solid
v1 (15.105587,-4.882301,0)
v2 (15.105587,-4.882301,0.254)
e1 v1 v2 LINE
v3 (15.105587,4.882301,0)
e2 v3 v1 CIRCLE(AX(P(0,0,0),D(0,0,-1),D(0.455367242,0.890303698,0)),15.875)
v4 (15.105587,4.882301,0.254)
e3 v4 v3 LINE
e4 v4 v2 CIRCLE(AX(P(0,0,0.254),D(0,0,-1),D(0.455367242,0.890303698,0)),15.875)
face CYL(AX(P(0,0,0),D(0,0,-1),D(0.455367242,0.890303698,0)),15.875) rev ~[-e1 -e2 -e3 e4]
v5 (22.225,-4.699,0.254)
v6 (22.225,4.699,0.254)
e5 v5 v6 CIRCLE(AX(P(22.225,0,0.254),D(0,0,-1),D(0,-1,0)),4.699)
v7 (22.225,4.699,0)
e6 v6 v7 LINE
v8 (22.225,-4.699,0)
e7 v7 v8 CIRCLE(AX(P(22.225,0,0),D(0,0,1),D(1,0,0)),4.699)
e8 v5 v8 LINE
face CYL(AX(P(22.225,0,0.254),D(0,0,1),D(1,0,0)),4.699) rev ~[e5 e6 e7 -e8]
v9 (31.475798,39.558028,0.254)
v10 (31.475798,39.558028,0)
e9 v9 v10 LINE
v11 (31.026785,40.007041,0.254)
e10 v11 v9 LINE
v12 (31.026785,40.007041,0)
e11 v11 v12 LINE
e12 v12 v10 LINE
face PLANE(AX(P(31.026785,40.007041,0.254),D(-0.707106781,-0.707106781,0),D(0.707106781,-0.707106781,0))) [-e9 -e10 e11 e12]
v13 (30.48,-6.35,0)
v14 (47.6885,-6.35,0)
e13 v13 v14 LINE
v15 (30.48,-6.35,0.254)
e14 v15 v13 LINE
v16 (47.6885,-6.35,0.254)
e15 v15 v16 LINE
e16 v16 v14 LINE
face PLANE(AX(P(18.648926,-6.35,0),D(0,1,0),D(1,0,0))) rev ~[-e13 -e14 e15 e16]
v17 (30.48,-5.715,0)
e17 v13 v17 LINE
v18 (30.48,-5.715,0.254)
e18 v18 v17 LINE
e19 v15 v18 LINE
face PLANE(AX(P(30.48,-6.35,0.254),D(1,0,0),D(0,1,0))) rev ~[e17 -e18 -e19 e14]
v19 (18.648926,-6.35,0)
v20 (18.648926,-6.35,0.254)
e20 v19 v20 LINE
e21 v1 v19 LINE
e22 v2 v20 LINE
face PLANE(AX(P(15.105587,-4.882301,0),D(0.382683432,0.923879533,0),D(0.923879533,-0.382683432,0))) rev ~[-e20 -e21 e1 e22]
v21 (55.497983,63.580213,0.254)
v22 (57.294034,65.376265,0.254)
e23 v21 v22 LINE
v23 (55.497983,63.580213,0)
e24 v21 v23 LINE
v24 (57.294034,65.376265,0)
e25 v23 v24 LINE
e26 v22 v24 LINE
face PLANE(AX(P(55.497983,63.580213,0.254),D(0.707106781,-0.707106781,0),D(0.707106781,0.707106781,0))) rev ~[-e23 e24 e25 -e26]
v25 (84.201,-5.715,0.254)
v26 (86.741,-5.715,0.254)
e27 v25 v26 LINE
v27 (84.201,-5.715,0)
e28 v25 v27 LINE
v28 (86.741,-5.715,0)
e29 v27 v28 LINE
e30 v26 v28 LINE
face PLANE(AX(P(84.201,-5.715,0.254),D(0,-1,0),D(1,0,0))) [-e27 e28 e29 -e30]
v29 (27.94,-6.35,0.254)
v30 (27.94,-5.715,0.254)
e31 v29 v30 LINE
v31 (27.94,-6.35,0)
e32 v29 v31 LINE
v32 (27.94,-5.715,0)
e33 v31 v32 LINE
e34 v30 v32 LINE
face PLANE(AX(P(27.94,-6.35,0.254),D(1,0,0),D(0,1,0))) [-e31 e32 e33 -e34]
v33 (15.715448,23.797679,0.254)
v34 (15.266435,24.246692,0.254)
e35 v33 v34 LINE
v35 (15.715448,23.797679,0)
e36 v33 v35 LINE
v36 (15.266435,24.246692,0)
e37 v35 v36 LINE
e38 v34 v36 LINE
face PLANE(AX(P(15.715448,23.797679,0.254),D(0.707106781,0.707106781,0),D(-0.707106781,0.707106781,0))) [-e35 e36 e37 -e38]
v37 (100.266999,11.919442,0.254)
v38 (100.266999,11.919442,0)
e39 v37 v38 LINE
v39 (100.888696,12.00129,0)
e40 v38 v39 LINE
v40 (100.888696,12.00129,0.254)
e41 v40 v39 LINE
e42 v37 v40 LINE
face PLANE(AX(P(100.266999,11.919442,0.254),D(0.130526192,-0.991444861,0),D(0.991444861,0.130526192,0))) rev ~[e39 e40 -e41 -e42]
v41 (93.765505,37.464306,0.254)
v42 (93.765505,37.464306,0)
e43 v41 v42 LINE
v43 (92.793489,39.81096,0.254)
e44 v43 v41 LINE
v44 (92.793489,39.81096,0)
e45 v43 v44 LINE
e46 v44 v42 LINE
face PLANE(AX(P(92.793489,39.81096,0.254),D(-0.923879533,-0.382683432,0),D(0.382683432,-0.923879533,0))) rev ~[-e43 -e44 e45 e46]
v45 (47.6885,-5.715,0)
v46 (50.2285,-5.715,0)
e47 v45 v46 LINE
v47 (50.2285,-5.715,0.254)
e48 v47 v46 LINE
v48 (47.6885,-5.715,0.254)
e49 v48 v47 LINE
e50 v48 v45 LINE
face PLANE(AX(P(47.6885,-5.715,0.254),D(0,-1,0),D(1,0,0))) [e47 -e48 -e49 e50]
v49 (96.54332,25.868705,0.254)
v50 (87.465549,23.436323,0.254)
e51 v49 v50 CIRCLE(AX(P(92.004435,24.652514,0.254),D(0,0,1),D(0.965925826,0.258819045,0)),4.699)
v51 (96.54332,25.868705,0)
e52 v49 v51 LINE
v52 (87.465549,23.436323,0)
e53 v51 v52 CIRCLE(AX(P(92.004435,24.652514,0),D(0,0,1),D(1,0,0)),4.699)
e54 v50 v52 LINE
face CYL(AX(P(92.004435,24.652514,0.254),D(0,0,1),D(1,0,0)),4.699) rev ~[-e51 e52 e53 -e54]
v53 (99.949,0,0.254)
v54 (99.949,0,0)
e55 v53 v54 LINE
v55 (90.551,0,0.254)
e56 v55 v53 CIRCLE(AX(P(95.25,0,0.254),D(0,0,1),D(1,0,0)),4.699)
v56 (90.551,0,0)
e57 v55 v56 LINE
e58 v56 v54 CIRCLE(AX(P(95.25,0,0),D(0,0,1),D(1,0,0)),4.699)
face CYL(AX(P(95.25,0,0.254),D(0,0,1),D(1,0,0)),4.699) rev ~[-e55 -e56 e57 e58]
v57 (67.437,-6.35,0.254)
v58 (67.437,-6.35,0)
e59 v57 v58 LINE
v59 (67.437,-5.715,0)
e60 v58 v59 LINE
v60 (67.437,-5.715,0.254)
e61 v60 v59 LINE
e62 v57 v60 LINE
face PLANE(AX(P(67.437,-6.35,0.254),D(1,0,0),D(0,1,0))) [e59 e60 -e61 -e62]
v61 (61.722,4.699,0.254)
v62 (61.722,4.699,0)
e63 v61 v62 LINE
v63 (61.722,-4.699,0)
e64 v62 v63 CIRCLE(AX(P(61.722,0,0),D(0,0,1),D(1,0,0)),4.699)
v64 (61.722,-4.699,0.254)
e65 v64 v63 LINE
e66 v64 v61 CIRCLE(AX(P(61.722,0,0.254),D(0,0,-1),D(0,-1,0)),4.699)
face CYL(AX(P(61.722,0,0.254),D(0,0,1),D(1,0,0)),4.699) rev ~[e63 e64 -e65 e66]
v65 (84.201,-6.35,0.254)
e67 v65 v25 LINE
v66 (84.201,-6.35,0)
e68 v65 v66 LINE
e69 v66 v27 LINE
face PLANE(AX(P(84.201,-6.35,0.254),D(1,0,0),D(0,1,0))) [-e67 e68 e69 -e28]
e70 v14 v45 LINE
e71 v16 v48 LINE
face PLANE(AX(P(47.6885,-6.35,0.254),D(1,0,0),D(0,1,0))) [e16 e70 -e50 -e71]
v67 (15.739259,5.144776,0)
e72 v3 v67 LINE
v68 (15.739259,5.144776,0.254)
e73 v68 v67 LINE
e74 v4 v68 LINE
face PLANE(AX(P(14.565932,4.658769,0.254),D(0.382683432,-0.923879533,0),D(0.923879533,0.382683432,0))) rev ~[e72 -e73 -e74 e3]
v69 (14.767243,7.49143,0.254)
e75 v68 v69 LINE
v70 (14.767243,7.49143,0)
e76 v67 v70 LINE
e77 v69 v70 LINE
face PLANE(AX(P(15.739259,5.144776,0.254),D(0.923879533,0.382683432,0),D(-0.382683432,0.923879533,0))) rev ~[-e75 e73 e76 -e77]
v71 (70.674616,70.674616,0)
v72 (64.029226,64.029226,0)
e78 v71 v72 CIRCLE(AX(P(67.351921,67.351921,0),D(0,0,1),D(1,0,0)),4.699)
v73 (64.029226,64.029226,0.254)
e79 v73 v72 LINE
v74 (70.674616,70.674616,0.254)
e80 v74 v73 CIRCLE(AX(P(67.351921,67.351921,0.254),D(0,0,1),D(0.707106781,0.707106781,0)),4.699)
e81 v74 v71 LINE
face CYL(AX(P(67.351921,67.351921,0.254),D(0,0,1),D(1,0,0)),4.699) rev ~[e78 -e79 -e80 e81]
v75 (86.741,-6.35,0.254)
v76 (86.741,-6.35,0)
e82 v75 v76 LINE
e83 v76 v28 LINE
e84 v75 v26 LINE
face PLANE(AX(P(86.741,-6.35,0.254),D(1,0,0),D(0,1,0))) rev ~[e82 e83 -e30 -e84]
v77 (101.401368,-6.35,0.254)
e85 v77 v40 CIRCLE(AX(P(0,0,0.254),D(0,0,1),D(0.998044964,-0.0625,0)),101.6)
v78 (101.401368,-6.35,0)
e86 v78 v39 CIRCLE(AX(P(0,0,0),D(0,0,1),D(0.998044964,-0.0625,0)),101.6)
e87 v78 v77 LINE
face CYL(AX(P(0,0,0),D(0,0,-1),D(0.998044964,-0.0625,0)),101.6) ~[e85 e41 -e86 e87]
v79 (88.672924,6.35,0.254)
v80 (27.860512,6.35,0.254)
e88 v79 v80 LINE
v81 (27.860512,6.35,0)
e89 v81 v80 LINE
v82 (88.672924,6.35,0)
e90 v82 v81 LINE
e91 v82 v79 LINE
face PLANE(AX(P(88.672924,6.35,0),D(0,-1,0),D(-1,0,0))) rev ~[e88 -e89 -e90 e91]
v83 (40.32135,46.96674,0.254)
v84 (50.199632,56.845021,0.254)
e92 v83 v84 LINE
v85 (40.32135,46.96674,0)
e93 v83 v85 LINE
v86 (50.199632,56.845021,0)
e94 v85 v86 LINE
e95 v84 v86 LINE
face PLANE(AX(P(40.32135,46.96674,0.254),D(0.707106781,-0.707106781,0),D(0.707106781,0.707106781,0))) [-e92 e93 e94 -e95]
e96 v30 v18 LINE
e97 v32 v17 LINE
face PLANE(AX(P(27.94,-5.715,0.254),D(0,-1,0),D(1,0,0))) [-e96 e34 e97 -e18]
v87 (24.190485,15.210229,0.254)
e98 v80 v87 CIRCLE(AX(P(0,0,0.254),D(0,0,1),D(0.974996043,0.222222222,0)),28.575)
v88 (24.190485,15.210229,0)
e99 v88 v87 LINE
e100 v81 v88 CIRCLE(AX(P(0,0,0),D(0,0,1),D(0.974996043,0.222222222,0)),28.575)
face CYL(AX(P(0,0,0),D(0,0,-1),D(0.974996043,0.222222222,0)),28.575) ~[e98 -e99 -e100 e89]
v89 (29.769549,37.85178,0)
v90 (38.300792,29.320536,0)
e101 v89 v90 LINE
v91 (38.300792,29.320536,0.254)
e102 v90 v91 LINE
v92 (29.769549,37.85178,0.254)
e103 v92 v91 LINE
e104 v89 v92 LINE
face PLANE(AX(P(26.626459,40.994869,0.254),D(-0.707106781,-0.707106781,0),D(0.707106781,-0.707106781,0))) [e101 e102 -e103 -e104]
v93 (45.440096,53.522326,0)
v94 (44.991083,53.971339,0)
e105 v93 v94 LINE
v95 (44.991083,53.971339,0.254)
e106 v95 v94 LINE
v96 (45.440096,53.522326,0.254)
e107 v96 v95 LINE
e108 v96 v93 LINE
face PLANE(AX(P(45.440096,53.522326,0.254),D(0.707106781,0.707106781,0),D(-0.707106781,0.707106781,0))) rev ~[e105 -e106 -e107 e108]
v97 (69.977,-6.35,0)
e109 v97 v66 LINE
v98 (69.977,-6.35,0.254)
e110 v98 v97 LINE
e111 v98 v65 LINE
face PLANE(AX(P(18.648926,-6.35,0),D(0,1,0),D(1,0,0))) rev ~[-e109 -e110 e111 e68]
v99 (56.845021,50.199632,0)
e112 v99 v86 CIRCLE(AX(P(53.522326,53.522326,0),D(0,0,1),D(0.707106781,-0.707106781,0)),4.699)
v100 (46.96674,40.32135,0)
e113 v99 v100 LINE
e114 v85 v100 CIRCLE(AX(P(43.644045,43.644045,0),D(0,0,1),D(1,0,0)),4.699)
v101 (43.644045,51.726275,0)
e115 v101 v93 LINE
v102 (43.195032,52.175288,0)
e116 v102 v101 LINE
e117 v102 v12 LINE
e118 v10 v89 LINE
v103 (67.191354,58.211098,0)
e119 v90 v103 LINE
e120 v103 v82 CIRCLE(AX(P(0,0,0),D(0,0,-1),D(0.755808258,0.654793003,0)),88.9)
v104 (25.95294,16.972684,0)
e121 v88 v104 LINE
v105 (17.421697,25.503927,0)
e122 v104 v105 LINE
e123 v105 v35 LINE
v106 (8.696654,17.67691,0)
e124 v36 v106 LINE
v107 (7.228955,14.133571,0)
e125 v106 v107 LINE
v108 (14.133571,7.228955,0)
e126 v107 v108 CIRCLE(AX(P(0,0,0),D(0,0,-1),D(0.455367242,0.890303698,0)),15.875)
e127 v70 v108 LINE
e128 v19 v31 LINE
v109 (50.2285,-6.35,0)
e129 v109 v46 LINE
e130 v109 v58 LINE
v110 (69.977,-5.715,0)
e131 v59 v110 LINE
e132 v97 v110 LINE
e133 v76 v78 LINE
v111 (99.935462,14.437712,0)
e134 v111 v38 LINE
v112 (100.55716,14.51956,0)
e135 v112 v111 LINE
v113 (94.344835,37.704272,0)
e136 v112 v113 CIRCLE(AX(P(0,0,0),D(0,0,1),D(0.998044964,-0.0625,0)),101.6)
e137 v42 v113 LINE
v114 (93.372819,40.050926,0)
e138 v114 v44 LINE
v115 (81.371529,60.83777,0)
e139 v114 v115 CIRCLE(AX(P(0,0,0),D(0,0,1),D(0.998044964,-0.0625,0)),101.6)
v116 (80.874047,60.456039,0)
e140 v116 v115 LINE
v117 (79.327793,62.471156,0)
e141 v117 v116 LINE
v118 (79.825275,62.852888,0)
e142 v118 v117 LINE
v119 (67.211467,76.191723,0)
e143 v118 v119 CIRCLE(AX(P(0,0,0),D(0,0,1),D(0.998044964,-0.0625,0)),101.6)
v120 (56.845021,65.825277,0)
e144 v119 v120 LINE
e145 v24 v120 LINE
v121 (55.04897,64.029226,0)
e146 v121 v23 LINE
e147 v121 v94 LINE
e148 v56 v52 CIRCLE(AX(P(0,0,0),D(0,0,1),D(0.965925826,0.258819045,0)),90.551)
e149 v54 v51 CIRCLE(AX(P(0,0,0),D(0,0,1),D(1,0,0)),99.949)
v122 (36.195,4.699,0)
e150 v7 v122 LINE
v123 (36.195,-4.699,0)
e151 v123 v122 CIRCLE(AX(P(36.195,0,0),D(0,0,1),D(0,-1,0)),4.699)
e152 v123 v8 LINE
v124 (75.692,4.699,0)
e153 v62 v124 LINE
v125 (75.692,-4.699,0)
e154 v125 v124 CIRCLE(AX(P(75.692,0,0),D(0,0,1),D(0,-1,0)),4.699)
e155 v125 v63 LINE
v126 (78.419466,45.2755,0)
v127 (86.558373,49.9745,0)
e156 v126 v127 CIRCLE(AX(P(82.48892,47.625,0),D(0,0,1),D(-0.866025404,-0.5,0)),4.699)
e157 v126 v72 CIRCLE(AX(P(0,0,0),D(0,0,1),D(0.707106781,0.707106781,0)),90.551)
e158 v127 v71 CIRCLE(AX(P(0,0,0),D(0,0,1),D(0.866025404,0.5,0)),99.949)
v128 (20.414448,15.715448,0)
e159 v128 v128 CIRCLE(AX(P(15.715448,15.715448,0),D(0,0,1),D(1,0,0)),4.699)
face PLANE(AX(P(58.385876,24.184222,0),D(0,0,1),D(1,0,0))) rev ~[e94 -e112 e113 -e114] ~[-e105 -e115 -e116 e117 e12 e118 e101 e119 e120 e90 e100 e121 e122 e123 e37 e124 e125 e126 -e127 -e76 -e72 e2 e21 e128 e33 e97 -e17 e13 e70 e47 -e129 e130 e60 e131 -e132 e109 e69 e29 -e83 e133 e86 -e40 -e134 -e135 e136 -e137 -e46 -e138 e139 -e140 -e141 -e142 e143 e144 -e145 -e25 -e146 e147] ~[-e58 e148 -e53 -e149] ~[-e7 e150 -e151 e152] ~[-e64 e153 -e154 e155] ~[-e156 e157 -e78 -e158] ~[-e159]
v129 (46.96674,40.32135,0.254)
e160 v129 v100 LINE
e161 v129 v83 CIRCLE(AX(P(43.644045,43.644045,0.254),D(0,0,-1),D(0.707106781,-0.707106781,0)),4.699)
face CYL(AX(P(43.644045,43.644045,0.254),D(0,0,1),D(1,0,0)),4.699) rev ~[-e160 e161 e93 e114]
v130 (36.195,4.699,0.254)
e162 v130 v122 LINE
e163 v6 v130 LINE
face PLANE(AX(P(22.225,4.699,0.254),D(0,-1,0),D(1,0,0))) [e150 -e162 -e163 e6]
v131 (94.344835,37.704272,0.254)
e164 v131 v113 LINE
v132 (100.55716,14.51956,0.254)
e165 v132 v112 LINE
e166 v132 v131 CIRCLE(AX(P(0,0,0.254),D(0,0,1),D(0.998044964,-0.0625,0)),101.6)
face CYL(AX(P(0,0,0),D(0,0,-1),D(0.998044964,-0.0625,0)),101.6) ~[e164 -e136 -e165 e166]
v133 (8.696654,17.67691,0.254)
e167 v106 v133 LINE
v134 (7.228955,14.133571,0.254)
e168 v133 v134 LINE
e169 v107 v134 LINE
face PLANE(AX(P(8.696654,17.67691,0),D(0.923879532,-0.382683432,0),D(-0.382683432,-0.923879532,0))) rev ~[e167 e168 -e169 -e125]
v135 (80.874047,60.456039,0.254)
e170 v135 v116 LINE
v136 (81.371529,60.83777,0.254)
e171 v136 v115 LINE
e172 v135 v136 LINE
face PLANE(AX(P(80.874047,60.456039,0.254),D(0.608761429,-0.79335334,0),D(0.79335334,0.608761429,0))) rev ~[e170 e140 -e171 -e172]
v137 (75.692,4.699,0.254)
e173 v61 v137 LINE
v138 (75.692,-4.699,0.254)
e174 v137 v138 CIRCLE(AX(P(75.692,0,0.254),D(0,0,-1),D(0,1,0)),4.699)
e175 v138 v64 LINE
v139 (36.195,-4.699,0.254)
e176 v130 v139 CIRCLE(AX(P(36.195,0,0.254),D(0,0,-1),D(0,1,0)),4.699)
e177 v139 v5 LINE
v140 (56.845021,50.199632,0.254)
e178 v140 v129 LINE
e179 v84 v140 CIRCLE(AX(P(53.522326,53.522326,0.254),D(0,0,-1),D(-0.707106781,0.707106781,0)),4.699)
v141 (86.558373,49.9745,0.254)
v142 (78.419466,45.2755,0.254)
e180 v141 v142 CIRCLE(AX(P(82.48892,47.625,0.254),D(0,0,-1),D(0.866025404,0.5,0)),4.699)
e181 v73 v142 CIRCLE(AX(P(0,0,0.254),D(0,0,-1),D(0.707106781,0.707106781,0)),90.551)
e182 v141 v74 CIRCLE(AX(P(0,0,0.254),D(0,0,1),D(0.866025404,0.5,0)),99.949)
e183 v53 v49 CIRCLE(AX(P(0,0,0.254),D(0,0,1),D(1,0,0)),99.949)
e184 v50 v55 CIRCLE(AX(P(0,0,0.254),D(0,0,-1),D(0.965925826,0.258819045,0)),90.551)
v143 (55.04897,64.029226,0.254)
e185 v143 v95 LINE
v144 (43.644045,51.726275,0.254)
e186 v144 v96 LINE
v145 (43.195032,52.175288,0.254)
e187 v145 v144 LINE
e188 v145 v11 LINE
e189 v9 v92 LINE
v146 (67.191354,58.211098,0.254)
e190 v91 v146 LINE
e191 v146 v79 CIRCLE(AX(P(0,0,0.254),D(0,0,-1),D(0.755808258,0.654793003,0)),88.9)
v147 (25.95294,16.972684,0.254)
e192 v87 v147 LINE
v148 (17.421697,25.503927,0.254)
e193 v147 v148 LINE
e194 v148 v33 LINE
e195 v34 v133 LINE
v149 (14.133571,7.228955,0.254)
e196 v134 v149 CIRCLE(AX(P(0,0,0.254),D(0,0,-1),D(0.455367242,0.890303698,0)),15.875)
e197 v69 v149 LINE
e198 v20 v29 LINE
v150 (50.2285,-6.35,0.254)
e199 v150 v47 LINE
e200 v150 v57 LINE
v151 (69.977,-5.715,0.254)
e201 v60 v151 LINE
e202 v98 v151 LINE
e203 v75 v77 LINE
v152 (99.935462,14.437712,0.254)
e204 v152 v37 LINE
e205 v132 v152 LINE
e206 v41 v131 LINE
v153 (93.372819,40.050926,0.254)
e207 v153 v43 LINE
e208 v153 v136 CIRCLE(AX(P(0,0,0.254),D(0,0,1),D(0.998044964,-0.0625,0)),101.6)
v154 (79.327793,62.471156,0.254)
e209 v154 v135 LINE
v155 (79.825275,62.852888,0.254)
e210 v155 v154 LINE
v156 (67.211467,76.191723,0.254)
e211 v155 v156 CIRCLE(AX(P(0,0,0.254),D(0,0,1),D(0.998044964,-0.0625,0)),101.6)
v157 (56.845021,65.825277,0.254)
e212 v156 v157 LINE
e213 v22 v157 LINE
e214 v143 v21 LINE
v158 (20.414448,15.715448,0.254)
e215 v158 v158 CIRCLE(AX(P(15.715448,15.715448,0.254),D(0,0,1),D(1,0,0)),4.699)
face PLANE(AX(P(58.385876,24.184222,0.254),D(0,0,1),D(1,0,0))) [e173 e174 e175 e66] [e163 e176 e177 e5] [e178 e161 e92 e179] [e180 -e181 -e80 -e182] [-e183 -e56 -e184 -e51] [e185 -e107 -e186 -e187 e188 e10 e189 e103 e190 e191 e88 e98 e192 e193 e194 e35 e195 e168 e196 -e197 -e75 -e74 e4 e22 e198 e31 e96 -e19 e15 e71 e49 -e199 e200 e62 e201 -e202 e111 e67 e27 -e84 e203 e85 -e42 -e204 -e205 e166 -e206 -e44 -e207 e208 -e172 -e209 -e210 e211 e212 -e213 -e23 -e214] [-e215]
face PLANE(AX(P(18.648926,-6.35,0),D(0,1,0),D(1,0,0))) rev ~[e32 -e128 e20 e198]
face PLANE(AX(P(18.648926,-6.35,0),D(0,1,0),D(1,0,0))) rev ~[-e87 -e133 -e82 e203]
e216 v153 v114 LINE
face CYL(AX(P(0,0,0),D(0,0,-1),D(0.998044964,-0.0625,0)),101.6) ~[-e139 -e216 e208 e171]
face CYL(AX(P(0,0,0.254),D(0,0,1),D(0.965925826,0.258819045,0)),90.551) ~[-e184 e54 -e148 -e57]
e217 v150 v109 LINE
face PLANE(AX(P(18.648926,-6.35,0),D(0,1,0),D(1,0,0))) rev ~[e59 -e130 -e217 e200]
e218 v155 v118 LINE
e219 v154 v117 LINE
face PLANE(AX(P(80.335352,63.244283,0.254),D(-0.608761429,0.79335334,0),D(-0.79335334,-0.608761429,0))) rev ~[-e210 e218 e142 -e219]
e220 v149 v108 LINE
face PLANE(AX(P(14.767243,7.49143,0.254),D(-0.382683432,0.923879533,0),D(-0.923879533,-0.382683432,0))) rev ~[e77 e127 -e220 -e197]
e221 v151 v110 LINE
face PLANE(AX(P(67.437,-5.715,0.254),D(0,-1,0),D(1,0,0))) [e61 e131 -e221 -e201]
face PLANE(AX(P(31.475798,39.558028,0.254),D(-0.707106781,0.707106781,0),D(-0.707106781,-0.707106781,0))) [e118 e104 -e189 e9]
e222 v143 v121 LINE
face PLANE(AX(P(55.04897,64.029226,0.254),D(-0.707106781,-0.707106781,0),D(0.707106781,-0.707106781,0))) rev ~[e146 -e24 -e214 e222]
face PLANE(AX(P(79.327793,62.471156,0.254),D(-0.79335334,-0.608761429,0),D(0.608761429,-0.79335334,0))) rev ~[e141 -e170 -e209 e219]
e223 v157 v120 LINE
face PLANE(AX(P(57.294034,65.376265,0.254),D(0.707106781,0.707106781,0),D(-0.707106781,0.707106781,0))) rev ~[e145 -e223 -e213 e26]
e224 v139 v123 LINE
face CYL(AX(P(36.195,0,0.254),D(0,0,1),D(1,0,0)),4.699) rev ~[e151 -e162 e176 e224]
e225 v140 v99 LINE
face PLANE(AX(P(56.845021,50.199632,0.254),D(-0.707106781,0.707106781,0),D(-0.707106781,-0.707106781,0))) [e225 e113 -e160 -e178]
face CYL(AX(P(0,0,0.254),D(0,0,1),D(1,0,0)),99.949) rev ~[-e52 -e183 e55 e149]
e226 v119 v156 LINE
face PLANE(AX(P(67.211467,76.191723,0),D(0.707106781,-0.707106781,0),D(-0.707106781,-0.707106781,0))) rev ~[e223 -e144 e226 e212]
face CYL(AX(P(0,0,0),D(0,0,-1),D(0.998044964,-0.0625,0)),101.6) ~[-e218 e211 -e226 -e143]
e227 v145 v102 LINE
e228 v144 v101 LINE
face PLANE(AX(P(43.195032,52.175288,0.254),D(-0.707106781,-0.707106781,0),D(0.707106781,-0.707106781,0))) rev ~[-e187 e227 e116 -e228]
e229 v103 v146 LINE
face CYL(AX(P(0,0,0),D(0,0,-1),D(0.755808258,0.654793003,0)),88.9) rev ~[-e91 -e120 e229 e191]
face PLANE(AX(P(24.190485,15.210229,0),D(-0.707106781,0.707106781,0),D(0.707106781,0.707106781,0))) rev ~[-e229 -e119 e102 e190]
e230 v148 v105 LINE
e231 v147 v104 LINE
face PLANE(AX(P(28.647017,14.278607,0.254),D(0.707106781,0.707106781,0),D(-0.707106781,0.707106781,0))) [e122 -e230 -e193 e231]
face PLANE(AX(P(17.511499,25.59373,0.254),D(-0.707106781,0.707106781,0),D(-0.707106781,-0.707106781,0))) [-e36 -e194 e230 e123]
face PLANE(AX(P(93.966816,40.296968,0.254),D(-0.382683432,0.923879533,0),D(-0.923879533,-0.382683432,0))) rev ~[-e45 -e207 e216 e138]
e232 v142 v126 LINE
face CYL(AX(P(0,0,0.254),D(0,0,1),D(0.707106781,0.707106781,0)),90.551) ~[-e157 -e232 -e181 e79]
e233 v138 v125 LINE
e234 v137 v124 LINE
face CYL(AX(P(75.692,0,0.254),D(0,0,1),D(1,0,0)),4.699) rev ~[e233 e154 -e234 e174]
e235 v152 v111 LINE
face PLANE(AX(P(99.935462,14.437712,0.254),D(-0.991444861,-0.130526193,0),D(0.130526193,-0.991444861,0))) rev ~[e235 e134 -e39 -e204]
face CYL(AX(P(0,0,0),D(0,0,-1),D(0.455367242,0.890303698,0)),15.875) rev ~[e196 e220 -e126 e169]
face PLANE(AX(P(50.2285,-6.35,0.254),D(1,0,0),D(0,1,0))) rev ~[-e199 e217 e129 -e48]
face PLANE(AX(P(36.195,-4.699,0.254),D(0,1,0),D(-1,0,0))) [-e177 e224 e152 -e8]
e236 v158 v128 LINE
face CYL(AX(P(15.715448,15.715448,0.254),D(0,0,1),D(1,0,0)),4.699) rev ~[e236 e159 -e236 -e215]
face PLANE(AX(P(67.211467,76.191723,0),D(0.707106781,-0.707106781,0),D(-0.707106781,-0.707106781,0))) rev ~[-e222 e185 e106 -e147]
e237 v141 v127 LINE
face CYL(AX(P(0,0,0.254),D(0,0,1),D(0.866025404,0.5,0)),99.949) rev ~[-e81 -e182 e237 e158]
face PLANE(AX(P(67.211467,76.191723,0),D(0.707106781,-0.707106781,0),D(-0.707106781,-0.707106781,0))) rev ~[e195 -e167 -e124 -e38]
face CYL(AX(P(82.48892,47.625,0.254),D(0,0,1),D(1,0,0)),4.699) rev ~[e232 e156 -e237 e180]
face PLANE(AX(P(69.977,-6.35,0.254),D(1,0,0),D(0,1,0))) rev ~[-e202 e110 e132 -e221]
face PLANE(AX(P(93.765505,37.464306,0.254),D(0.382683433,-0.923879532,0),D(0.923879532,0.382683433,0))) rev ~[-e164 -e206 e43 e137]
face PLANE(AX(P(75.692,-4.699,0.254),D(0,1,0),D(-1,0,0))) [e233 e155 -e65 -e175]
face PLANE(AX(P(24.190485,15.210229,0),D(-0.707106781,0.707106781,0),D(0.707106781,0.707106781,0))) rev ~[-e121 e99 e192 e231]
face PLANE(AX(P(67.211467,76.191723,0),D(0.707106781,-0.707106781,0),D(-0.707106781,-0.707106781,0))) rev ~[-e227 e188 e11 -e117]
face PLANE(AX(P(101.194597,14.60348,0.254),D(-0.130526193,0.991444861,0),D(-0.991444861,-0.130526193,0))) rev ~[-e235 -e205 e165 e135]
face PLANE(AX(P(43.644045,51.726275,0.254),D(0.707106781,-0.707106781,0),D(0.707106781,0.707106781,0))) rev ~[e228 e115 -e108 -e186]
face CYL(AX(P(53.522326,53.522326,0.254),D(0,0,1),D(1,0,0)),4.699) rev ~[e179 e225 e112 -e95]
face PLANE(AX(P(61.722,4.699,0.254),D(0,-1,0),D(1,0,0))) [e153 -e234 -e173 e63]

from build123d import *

# Parameters (mm, degrees)
BOSS_EXTRUDE1_DEPTH = 0.254
SKETCH2_R           = 4.699
CUT_EXTRUDE1_DEPTH  = 1.254
SKETCH3_W           = 2.54
SKETCH3_H           = 0.635
CUT_EXTRUDE2_DEPTH  = 1.254
CUT_EXTRUDE4_DEPTH  = 1.254
CUT_EXTRUDE5_DEPTH  = 1.254


with BuildPart() as part:
    # Sketch1 → Boss-Extrude1 (new body)
    with BuildSketch(Plane.XY):
        with BuildLine():
            Line((67.21146711, 76.191723231), (8.696654013, 17.676910134))
            Line((8.696654013, 17.676910134), (7.228954972, 14.133571205))
            ThreePointArc((7.228954972, 14.133571205), (14.666587579, 6.075099489), (15.105587123, -4.88230096))
            Line((15.105587123, -4.88230096), (18.648926052, -6.35))
            Line((18.648926052, -6.35), (101.401368334, -6.35))
            ThreePointArc((101.401368334, -6.35), (93.866160503, 38.880636728), (67.21146711, 76.191723231))
        make_face()
        with BuildLine():
            Line((88.672924278, 6.35), (27.86051193, 6.35))
            ThreePointArc((27.86051193, 6.35), (26.399857642, 10.93517908), (24.190484974, 15.210228852))
            Line((24.190484974, 15.210228852), (67.191354125, 58.211098004))
            ThreePointArc((67.191354125, 58.211098004), (82.13289044, 34.020557137), (88.672924278, 6.35))
        make_face(mode=Mode.SUBTRACT)
    extrude(amount=BOSS_EXTRUDE1_DEPTH)

    # Sketch2 → Cut-Extrude1 (cut, through all)
    with BuildSketch(Plane.XY.offset(0.254)):
        with Locations((22.225, 0)):
            Circle(SKETCH2_R)
        with Locations((36.195, 0)):
            Circle(SKETCH2_R)
        with Locations((61.722, 0)):
            Circle(SKETCH2_R)
        with Locations((75.692, 0)):
            Circle(SKETCH2_R)
        with Locations((95.25, 0)):
            Circle(SKETCH2_R)
        with Locations((15.715448212, 15.715448212)):
            Circle(SKETCH2_R)
        with Locations((25.593729945, 25.593729945)):
            Circle(SKETCH2_R)
        with Locations((43.644044748, 43.644044748)):
            Circle(SKETCH2_R)
        with Locations((53.522326482, 53.522326482)):
            Circle(SKETCH2_R)
        with Locations((92.004434954, 24.652514046)):
            Circle(SKETCH2_R)
        with Locations((82.48891971, 47.625)):
            Circle(SKETCH2_R)
        with Locations((67.351920908, 67.351920908)):
            Circle(SKETCH2_R)
    extrude(amount=-CUT_EXTRUDE1_DEPTH, mode=Mode.SUBTRACT)

    # Sketch3 → Cut-Extrude2 (cut, through all)
    with BuildSketch(Plane.XY.offset(0.254)):
        Polygon((15.266435406, 24.246691527), (17.06248663, 26.042742751), (17.511499436, 25.593729945), (15.715448212, 23.797678721), align=None)
        Polygon((44.991083167, 53.971339288), (43.195031942, 52.175288063), (43.644044748, 51.726275257), (45.440095973, 53.522326482), align=None)
        with Locations((29.21, -6.0325)):
            Rectangle(SKETCH3_W, SKETCH3_H)
        with Locations((68.707, -6.0325)):
            Rectangle(SKETCH3_W, SKETCH3_H)
        Polygon((29.230733674, 38.210989795), (31.026784898, 40.007041019), (31.475797704, 39.558028213), (29.67974648, 37.761976989), align=None)
        Polygon((56.845021246, 65.825277367), (55.048970022, 64.029226143), (55.497982828, 63.580213337), (57.294034052, 65.376264561), align=None)
        with Locations((48.9585, -6.0325)):
            Rectangle(SKETCH3_W, SKETCH3_H)
        with Locations((85.471, -6.0325)):
            Rectangle(SKETCH3_W, SKETCH3_H)
        Polygon((99.935462164, 14.437711971), (100.266998693, 11.919442024), (101.526133667, 12.085210288), (101.194597138, 14.603480236), align=None)
        Polygon((93.765504959, 37.464305742), (94.938831965, 37.950313702), (93.966816047, 40.296967714), (92.793489041, 39.810959755), align=None)
        Polygon((79.327792988, 62.471156422), (80.874047017, 60.456038938), (81.88160576, 61.229165953), (80.33535173, 63.244283437), align=None)
        Polygon((13.593916116, 7.005422516), (14.565932035, 4.658768503), (15.739259041, 5.144776462), (14.767243123, 7.491430475), align=None)
    extrude(amount=-CUT_EXTRUDE2_DEPTH, mode=Mode.SUBTRACT)

    # Sketch6 → Cut-Extrude4 (cut, through all)
    with BuildSketch(Plane.XY.offset(0.254)):
        with BuildLine():
            Line((40.321349984, 46.966739513), (50.199631717, 56.845021246))
            ThreePointArc((50.199631717, 56.845021246), (56.845021246, 56.845021246), (56.845021246, 50.199631717))
            Line((56.845021246, 50.199631717), (46.966739513, 40.321349984))
            ThreePointArc((46.966739513, 40.321349984), (40.321349984, 40.321349984), (40.321349984, 46.966739513))
        make_face()
        with BuildLine():
            Line((22.225, 4.699), (36.195, 4.699))
            ThreePointArc((36.195, 4.699), (40.894, 0), (36.195, -4.699))
            Line((36.195, -4.699), (22.225, -4.699))
            ThreePointArc((22.225, -4.699), (17.526, 0), (22.225, 4.699))
        make_face()
        with BuildLine():
            Line((61.722, 4.699), (75.692, 4.699))
            ThreePointArc((75.692, 4.699), (80.391, 0), (75.692, -4.699))
            Line((75.692, -4.699), (61.722, -4.699))
            ThreePointArc((61.722, -4.699), (57.023, 0), (61.722, 4.699))
        make_face()
        with BuildLine():
            ThreePointArc((99.949, 0), (99.093922449, 13.045962386), (96.543320412, 25.868704739))
            ThreePointArc((96.543320412, 25.868704739), (90.788244261, 29.191399504), (87.465549496, 23.436323353))
            ThreePointArc((87.465549496, 23.436323353), (89.776323642, 11.819277232), (90.551, 0))
            ThreePointArc((90.551, 0), (95.25, -4.699), (99.949, 0))
        make_face()
        with BuildLine():
            ThreePointArc((86.558373083, 49.9745), (79.294873009, 60.845096068), (70.674615673, 70.674615673))
            ThreePointArc((70.674615673, 70.674615673), (64.029226143, 70.674615673), (64.029226143, 64.029226143))
            ThreePointArc((64.029226143, 64.029226143), (71.838938317, 55.123956158), (78.419466338, 45.2755))
            ThreePointArc((78.419466338, 45.2755), (84.83841971, 43.555546628), (86.558373083, 49.9745))
        make_face()
    extrude(amount=-CUT_EXTRUDE4_DEPTH, mode=Mode.SUBTRACT)

    # Sketch5 → Cut-Extrude5 (cut, through all)
    with BuildSketch(Plane.XY.offset(0.254)):
        Polygon((14.278607232, 28.647017026), (26.626459399, 40.994869193), (40.994869193, 26.626459399), (28.647017026, 14.278607233), align=None)
    extrude(amount=-CUT_EXTRUDE5_DEPTH, mode=Mode.SUBTRACT)


solid = part.part
